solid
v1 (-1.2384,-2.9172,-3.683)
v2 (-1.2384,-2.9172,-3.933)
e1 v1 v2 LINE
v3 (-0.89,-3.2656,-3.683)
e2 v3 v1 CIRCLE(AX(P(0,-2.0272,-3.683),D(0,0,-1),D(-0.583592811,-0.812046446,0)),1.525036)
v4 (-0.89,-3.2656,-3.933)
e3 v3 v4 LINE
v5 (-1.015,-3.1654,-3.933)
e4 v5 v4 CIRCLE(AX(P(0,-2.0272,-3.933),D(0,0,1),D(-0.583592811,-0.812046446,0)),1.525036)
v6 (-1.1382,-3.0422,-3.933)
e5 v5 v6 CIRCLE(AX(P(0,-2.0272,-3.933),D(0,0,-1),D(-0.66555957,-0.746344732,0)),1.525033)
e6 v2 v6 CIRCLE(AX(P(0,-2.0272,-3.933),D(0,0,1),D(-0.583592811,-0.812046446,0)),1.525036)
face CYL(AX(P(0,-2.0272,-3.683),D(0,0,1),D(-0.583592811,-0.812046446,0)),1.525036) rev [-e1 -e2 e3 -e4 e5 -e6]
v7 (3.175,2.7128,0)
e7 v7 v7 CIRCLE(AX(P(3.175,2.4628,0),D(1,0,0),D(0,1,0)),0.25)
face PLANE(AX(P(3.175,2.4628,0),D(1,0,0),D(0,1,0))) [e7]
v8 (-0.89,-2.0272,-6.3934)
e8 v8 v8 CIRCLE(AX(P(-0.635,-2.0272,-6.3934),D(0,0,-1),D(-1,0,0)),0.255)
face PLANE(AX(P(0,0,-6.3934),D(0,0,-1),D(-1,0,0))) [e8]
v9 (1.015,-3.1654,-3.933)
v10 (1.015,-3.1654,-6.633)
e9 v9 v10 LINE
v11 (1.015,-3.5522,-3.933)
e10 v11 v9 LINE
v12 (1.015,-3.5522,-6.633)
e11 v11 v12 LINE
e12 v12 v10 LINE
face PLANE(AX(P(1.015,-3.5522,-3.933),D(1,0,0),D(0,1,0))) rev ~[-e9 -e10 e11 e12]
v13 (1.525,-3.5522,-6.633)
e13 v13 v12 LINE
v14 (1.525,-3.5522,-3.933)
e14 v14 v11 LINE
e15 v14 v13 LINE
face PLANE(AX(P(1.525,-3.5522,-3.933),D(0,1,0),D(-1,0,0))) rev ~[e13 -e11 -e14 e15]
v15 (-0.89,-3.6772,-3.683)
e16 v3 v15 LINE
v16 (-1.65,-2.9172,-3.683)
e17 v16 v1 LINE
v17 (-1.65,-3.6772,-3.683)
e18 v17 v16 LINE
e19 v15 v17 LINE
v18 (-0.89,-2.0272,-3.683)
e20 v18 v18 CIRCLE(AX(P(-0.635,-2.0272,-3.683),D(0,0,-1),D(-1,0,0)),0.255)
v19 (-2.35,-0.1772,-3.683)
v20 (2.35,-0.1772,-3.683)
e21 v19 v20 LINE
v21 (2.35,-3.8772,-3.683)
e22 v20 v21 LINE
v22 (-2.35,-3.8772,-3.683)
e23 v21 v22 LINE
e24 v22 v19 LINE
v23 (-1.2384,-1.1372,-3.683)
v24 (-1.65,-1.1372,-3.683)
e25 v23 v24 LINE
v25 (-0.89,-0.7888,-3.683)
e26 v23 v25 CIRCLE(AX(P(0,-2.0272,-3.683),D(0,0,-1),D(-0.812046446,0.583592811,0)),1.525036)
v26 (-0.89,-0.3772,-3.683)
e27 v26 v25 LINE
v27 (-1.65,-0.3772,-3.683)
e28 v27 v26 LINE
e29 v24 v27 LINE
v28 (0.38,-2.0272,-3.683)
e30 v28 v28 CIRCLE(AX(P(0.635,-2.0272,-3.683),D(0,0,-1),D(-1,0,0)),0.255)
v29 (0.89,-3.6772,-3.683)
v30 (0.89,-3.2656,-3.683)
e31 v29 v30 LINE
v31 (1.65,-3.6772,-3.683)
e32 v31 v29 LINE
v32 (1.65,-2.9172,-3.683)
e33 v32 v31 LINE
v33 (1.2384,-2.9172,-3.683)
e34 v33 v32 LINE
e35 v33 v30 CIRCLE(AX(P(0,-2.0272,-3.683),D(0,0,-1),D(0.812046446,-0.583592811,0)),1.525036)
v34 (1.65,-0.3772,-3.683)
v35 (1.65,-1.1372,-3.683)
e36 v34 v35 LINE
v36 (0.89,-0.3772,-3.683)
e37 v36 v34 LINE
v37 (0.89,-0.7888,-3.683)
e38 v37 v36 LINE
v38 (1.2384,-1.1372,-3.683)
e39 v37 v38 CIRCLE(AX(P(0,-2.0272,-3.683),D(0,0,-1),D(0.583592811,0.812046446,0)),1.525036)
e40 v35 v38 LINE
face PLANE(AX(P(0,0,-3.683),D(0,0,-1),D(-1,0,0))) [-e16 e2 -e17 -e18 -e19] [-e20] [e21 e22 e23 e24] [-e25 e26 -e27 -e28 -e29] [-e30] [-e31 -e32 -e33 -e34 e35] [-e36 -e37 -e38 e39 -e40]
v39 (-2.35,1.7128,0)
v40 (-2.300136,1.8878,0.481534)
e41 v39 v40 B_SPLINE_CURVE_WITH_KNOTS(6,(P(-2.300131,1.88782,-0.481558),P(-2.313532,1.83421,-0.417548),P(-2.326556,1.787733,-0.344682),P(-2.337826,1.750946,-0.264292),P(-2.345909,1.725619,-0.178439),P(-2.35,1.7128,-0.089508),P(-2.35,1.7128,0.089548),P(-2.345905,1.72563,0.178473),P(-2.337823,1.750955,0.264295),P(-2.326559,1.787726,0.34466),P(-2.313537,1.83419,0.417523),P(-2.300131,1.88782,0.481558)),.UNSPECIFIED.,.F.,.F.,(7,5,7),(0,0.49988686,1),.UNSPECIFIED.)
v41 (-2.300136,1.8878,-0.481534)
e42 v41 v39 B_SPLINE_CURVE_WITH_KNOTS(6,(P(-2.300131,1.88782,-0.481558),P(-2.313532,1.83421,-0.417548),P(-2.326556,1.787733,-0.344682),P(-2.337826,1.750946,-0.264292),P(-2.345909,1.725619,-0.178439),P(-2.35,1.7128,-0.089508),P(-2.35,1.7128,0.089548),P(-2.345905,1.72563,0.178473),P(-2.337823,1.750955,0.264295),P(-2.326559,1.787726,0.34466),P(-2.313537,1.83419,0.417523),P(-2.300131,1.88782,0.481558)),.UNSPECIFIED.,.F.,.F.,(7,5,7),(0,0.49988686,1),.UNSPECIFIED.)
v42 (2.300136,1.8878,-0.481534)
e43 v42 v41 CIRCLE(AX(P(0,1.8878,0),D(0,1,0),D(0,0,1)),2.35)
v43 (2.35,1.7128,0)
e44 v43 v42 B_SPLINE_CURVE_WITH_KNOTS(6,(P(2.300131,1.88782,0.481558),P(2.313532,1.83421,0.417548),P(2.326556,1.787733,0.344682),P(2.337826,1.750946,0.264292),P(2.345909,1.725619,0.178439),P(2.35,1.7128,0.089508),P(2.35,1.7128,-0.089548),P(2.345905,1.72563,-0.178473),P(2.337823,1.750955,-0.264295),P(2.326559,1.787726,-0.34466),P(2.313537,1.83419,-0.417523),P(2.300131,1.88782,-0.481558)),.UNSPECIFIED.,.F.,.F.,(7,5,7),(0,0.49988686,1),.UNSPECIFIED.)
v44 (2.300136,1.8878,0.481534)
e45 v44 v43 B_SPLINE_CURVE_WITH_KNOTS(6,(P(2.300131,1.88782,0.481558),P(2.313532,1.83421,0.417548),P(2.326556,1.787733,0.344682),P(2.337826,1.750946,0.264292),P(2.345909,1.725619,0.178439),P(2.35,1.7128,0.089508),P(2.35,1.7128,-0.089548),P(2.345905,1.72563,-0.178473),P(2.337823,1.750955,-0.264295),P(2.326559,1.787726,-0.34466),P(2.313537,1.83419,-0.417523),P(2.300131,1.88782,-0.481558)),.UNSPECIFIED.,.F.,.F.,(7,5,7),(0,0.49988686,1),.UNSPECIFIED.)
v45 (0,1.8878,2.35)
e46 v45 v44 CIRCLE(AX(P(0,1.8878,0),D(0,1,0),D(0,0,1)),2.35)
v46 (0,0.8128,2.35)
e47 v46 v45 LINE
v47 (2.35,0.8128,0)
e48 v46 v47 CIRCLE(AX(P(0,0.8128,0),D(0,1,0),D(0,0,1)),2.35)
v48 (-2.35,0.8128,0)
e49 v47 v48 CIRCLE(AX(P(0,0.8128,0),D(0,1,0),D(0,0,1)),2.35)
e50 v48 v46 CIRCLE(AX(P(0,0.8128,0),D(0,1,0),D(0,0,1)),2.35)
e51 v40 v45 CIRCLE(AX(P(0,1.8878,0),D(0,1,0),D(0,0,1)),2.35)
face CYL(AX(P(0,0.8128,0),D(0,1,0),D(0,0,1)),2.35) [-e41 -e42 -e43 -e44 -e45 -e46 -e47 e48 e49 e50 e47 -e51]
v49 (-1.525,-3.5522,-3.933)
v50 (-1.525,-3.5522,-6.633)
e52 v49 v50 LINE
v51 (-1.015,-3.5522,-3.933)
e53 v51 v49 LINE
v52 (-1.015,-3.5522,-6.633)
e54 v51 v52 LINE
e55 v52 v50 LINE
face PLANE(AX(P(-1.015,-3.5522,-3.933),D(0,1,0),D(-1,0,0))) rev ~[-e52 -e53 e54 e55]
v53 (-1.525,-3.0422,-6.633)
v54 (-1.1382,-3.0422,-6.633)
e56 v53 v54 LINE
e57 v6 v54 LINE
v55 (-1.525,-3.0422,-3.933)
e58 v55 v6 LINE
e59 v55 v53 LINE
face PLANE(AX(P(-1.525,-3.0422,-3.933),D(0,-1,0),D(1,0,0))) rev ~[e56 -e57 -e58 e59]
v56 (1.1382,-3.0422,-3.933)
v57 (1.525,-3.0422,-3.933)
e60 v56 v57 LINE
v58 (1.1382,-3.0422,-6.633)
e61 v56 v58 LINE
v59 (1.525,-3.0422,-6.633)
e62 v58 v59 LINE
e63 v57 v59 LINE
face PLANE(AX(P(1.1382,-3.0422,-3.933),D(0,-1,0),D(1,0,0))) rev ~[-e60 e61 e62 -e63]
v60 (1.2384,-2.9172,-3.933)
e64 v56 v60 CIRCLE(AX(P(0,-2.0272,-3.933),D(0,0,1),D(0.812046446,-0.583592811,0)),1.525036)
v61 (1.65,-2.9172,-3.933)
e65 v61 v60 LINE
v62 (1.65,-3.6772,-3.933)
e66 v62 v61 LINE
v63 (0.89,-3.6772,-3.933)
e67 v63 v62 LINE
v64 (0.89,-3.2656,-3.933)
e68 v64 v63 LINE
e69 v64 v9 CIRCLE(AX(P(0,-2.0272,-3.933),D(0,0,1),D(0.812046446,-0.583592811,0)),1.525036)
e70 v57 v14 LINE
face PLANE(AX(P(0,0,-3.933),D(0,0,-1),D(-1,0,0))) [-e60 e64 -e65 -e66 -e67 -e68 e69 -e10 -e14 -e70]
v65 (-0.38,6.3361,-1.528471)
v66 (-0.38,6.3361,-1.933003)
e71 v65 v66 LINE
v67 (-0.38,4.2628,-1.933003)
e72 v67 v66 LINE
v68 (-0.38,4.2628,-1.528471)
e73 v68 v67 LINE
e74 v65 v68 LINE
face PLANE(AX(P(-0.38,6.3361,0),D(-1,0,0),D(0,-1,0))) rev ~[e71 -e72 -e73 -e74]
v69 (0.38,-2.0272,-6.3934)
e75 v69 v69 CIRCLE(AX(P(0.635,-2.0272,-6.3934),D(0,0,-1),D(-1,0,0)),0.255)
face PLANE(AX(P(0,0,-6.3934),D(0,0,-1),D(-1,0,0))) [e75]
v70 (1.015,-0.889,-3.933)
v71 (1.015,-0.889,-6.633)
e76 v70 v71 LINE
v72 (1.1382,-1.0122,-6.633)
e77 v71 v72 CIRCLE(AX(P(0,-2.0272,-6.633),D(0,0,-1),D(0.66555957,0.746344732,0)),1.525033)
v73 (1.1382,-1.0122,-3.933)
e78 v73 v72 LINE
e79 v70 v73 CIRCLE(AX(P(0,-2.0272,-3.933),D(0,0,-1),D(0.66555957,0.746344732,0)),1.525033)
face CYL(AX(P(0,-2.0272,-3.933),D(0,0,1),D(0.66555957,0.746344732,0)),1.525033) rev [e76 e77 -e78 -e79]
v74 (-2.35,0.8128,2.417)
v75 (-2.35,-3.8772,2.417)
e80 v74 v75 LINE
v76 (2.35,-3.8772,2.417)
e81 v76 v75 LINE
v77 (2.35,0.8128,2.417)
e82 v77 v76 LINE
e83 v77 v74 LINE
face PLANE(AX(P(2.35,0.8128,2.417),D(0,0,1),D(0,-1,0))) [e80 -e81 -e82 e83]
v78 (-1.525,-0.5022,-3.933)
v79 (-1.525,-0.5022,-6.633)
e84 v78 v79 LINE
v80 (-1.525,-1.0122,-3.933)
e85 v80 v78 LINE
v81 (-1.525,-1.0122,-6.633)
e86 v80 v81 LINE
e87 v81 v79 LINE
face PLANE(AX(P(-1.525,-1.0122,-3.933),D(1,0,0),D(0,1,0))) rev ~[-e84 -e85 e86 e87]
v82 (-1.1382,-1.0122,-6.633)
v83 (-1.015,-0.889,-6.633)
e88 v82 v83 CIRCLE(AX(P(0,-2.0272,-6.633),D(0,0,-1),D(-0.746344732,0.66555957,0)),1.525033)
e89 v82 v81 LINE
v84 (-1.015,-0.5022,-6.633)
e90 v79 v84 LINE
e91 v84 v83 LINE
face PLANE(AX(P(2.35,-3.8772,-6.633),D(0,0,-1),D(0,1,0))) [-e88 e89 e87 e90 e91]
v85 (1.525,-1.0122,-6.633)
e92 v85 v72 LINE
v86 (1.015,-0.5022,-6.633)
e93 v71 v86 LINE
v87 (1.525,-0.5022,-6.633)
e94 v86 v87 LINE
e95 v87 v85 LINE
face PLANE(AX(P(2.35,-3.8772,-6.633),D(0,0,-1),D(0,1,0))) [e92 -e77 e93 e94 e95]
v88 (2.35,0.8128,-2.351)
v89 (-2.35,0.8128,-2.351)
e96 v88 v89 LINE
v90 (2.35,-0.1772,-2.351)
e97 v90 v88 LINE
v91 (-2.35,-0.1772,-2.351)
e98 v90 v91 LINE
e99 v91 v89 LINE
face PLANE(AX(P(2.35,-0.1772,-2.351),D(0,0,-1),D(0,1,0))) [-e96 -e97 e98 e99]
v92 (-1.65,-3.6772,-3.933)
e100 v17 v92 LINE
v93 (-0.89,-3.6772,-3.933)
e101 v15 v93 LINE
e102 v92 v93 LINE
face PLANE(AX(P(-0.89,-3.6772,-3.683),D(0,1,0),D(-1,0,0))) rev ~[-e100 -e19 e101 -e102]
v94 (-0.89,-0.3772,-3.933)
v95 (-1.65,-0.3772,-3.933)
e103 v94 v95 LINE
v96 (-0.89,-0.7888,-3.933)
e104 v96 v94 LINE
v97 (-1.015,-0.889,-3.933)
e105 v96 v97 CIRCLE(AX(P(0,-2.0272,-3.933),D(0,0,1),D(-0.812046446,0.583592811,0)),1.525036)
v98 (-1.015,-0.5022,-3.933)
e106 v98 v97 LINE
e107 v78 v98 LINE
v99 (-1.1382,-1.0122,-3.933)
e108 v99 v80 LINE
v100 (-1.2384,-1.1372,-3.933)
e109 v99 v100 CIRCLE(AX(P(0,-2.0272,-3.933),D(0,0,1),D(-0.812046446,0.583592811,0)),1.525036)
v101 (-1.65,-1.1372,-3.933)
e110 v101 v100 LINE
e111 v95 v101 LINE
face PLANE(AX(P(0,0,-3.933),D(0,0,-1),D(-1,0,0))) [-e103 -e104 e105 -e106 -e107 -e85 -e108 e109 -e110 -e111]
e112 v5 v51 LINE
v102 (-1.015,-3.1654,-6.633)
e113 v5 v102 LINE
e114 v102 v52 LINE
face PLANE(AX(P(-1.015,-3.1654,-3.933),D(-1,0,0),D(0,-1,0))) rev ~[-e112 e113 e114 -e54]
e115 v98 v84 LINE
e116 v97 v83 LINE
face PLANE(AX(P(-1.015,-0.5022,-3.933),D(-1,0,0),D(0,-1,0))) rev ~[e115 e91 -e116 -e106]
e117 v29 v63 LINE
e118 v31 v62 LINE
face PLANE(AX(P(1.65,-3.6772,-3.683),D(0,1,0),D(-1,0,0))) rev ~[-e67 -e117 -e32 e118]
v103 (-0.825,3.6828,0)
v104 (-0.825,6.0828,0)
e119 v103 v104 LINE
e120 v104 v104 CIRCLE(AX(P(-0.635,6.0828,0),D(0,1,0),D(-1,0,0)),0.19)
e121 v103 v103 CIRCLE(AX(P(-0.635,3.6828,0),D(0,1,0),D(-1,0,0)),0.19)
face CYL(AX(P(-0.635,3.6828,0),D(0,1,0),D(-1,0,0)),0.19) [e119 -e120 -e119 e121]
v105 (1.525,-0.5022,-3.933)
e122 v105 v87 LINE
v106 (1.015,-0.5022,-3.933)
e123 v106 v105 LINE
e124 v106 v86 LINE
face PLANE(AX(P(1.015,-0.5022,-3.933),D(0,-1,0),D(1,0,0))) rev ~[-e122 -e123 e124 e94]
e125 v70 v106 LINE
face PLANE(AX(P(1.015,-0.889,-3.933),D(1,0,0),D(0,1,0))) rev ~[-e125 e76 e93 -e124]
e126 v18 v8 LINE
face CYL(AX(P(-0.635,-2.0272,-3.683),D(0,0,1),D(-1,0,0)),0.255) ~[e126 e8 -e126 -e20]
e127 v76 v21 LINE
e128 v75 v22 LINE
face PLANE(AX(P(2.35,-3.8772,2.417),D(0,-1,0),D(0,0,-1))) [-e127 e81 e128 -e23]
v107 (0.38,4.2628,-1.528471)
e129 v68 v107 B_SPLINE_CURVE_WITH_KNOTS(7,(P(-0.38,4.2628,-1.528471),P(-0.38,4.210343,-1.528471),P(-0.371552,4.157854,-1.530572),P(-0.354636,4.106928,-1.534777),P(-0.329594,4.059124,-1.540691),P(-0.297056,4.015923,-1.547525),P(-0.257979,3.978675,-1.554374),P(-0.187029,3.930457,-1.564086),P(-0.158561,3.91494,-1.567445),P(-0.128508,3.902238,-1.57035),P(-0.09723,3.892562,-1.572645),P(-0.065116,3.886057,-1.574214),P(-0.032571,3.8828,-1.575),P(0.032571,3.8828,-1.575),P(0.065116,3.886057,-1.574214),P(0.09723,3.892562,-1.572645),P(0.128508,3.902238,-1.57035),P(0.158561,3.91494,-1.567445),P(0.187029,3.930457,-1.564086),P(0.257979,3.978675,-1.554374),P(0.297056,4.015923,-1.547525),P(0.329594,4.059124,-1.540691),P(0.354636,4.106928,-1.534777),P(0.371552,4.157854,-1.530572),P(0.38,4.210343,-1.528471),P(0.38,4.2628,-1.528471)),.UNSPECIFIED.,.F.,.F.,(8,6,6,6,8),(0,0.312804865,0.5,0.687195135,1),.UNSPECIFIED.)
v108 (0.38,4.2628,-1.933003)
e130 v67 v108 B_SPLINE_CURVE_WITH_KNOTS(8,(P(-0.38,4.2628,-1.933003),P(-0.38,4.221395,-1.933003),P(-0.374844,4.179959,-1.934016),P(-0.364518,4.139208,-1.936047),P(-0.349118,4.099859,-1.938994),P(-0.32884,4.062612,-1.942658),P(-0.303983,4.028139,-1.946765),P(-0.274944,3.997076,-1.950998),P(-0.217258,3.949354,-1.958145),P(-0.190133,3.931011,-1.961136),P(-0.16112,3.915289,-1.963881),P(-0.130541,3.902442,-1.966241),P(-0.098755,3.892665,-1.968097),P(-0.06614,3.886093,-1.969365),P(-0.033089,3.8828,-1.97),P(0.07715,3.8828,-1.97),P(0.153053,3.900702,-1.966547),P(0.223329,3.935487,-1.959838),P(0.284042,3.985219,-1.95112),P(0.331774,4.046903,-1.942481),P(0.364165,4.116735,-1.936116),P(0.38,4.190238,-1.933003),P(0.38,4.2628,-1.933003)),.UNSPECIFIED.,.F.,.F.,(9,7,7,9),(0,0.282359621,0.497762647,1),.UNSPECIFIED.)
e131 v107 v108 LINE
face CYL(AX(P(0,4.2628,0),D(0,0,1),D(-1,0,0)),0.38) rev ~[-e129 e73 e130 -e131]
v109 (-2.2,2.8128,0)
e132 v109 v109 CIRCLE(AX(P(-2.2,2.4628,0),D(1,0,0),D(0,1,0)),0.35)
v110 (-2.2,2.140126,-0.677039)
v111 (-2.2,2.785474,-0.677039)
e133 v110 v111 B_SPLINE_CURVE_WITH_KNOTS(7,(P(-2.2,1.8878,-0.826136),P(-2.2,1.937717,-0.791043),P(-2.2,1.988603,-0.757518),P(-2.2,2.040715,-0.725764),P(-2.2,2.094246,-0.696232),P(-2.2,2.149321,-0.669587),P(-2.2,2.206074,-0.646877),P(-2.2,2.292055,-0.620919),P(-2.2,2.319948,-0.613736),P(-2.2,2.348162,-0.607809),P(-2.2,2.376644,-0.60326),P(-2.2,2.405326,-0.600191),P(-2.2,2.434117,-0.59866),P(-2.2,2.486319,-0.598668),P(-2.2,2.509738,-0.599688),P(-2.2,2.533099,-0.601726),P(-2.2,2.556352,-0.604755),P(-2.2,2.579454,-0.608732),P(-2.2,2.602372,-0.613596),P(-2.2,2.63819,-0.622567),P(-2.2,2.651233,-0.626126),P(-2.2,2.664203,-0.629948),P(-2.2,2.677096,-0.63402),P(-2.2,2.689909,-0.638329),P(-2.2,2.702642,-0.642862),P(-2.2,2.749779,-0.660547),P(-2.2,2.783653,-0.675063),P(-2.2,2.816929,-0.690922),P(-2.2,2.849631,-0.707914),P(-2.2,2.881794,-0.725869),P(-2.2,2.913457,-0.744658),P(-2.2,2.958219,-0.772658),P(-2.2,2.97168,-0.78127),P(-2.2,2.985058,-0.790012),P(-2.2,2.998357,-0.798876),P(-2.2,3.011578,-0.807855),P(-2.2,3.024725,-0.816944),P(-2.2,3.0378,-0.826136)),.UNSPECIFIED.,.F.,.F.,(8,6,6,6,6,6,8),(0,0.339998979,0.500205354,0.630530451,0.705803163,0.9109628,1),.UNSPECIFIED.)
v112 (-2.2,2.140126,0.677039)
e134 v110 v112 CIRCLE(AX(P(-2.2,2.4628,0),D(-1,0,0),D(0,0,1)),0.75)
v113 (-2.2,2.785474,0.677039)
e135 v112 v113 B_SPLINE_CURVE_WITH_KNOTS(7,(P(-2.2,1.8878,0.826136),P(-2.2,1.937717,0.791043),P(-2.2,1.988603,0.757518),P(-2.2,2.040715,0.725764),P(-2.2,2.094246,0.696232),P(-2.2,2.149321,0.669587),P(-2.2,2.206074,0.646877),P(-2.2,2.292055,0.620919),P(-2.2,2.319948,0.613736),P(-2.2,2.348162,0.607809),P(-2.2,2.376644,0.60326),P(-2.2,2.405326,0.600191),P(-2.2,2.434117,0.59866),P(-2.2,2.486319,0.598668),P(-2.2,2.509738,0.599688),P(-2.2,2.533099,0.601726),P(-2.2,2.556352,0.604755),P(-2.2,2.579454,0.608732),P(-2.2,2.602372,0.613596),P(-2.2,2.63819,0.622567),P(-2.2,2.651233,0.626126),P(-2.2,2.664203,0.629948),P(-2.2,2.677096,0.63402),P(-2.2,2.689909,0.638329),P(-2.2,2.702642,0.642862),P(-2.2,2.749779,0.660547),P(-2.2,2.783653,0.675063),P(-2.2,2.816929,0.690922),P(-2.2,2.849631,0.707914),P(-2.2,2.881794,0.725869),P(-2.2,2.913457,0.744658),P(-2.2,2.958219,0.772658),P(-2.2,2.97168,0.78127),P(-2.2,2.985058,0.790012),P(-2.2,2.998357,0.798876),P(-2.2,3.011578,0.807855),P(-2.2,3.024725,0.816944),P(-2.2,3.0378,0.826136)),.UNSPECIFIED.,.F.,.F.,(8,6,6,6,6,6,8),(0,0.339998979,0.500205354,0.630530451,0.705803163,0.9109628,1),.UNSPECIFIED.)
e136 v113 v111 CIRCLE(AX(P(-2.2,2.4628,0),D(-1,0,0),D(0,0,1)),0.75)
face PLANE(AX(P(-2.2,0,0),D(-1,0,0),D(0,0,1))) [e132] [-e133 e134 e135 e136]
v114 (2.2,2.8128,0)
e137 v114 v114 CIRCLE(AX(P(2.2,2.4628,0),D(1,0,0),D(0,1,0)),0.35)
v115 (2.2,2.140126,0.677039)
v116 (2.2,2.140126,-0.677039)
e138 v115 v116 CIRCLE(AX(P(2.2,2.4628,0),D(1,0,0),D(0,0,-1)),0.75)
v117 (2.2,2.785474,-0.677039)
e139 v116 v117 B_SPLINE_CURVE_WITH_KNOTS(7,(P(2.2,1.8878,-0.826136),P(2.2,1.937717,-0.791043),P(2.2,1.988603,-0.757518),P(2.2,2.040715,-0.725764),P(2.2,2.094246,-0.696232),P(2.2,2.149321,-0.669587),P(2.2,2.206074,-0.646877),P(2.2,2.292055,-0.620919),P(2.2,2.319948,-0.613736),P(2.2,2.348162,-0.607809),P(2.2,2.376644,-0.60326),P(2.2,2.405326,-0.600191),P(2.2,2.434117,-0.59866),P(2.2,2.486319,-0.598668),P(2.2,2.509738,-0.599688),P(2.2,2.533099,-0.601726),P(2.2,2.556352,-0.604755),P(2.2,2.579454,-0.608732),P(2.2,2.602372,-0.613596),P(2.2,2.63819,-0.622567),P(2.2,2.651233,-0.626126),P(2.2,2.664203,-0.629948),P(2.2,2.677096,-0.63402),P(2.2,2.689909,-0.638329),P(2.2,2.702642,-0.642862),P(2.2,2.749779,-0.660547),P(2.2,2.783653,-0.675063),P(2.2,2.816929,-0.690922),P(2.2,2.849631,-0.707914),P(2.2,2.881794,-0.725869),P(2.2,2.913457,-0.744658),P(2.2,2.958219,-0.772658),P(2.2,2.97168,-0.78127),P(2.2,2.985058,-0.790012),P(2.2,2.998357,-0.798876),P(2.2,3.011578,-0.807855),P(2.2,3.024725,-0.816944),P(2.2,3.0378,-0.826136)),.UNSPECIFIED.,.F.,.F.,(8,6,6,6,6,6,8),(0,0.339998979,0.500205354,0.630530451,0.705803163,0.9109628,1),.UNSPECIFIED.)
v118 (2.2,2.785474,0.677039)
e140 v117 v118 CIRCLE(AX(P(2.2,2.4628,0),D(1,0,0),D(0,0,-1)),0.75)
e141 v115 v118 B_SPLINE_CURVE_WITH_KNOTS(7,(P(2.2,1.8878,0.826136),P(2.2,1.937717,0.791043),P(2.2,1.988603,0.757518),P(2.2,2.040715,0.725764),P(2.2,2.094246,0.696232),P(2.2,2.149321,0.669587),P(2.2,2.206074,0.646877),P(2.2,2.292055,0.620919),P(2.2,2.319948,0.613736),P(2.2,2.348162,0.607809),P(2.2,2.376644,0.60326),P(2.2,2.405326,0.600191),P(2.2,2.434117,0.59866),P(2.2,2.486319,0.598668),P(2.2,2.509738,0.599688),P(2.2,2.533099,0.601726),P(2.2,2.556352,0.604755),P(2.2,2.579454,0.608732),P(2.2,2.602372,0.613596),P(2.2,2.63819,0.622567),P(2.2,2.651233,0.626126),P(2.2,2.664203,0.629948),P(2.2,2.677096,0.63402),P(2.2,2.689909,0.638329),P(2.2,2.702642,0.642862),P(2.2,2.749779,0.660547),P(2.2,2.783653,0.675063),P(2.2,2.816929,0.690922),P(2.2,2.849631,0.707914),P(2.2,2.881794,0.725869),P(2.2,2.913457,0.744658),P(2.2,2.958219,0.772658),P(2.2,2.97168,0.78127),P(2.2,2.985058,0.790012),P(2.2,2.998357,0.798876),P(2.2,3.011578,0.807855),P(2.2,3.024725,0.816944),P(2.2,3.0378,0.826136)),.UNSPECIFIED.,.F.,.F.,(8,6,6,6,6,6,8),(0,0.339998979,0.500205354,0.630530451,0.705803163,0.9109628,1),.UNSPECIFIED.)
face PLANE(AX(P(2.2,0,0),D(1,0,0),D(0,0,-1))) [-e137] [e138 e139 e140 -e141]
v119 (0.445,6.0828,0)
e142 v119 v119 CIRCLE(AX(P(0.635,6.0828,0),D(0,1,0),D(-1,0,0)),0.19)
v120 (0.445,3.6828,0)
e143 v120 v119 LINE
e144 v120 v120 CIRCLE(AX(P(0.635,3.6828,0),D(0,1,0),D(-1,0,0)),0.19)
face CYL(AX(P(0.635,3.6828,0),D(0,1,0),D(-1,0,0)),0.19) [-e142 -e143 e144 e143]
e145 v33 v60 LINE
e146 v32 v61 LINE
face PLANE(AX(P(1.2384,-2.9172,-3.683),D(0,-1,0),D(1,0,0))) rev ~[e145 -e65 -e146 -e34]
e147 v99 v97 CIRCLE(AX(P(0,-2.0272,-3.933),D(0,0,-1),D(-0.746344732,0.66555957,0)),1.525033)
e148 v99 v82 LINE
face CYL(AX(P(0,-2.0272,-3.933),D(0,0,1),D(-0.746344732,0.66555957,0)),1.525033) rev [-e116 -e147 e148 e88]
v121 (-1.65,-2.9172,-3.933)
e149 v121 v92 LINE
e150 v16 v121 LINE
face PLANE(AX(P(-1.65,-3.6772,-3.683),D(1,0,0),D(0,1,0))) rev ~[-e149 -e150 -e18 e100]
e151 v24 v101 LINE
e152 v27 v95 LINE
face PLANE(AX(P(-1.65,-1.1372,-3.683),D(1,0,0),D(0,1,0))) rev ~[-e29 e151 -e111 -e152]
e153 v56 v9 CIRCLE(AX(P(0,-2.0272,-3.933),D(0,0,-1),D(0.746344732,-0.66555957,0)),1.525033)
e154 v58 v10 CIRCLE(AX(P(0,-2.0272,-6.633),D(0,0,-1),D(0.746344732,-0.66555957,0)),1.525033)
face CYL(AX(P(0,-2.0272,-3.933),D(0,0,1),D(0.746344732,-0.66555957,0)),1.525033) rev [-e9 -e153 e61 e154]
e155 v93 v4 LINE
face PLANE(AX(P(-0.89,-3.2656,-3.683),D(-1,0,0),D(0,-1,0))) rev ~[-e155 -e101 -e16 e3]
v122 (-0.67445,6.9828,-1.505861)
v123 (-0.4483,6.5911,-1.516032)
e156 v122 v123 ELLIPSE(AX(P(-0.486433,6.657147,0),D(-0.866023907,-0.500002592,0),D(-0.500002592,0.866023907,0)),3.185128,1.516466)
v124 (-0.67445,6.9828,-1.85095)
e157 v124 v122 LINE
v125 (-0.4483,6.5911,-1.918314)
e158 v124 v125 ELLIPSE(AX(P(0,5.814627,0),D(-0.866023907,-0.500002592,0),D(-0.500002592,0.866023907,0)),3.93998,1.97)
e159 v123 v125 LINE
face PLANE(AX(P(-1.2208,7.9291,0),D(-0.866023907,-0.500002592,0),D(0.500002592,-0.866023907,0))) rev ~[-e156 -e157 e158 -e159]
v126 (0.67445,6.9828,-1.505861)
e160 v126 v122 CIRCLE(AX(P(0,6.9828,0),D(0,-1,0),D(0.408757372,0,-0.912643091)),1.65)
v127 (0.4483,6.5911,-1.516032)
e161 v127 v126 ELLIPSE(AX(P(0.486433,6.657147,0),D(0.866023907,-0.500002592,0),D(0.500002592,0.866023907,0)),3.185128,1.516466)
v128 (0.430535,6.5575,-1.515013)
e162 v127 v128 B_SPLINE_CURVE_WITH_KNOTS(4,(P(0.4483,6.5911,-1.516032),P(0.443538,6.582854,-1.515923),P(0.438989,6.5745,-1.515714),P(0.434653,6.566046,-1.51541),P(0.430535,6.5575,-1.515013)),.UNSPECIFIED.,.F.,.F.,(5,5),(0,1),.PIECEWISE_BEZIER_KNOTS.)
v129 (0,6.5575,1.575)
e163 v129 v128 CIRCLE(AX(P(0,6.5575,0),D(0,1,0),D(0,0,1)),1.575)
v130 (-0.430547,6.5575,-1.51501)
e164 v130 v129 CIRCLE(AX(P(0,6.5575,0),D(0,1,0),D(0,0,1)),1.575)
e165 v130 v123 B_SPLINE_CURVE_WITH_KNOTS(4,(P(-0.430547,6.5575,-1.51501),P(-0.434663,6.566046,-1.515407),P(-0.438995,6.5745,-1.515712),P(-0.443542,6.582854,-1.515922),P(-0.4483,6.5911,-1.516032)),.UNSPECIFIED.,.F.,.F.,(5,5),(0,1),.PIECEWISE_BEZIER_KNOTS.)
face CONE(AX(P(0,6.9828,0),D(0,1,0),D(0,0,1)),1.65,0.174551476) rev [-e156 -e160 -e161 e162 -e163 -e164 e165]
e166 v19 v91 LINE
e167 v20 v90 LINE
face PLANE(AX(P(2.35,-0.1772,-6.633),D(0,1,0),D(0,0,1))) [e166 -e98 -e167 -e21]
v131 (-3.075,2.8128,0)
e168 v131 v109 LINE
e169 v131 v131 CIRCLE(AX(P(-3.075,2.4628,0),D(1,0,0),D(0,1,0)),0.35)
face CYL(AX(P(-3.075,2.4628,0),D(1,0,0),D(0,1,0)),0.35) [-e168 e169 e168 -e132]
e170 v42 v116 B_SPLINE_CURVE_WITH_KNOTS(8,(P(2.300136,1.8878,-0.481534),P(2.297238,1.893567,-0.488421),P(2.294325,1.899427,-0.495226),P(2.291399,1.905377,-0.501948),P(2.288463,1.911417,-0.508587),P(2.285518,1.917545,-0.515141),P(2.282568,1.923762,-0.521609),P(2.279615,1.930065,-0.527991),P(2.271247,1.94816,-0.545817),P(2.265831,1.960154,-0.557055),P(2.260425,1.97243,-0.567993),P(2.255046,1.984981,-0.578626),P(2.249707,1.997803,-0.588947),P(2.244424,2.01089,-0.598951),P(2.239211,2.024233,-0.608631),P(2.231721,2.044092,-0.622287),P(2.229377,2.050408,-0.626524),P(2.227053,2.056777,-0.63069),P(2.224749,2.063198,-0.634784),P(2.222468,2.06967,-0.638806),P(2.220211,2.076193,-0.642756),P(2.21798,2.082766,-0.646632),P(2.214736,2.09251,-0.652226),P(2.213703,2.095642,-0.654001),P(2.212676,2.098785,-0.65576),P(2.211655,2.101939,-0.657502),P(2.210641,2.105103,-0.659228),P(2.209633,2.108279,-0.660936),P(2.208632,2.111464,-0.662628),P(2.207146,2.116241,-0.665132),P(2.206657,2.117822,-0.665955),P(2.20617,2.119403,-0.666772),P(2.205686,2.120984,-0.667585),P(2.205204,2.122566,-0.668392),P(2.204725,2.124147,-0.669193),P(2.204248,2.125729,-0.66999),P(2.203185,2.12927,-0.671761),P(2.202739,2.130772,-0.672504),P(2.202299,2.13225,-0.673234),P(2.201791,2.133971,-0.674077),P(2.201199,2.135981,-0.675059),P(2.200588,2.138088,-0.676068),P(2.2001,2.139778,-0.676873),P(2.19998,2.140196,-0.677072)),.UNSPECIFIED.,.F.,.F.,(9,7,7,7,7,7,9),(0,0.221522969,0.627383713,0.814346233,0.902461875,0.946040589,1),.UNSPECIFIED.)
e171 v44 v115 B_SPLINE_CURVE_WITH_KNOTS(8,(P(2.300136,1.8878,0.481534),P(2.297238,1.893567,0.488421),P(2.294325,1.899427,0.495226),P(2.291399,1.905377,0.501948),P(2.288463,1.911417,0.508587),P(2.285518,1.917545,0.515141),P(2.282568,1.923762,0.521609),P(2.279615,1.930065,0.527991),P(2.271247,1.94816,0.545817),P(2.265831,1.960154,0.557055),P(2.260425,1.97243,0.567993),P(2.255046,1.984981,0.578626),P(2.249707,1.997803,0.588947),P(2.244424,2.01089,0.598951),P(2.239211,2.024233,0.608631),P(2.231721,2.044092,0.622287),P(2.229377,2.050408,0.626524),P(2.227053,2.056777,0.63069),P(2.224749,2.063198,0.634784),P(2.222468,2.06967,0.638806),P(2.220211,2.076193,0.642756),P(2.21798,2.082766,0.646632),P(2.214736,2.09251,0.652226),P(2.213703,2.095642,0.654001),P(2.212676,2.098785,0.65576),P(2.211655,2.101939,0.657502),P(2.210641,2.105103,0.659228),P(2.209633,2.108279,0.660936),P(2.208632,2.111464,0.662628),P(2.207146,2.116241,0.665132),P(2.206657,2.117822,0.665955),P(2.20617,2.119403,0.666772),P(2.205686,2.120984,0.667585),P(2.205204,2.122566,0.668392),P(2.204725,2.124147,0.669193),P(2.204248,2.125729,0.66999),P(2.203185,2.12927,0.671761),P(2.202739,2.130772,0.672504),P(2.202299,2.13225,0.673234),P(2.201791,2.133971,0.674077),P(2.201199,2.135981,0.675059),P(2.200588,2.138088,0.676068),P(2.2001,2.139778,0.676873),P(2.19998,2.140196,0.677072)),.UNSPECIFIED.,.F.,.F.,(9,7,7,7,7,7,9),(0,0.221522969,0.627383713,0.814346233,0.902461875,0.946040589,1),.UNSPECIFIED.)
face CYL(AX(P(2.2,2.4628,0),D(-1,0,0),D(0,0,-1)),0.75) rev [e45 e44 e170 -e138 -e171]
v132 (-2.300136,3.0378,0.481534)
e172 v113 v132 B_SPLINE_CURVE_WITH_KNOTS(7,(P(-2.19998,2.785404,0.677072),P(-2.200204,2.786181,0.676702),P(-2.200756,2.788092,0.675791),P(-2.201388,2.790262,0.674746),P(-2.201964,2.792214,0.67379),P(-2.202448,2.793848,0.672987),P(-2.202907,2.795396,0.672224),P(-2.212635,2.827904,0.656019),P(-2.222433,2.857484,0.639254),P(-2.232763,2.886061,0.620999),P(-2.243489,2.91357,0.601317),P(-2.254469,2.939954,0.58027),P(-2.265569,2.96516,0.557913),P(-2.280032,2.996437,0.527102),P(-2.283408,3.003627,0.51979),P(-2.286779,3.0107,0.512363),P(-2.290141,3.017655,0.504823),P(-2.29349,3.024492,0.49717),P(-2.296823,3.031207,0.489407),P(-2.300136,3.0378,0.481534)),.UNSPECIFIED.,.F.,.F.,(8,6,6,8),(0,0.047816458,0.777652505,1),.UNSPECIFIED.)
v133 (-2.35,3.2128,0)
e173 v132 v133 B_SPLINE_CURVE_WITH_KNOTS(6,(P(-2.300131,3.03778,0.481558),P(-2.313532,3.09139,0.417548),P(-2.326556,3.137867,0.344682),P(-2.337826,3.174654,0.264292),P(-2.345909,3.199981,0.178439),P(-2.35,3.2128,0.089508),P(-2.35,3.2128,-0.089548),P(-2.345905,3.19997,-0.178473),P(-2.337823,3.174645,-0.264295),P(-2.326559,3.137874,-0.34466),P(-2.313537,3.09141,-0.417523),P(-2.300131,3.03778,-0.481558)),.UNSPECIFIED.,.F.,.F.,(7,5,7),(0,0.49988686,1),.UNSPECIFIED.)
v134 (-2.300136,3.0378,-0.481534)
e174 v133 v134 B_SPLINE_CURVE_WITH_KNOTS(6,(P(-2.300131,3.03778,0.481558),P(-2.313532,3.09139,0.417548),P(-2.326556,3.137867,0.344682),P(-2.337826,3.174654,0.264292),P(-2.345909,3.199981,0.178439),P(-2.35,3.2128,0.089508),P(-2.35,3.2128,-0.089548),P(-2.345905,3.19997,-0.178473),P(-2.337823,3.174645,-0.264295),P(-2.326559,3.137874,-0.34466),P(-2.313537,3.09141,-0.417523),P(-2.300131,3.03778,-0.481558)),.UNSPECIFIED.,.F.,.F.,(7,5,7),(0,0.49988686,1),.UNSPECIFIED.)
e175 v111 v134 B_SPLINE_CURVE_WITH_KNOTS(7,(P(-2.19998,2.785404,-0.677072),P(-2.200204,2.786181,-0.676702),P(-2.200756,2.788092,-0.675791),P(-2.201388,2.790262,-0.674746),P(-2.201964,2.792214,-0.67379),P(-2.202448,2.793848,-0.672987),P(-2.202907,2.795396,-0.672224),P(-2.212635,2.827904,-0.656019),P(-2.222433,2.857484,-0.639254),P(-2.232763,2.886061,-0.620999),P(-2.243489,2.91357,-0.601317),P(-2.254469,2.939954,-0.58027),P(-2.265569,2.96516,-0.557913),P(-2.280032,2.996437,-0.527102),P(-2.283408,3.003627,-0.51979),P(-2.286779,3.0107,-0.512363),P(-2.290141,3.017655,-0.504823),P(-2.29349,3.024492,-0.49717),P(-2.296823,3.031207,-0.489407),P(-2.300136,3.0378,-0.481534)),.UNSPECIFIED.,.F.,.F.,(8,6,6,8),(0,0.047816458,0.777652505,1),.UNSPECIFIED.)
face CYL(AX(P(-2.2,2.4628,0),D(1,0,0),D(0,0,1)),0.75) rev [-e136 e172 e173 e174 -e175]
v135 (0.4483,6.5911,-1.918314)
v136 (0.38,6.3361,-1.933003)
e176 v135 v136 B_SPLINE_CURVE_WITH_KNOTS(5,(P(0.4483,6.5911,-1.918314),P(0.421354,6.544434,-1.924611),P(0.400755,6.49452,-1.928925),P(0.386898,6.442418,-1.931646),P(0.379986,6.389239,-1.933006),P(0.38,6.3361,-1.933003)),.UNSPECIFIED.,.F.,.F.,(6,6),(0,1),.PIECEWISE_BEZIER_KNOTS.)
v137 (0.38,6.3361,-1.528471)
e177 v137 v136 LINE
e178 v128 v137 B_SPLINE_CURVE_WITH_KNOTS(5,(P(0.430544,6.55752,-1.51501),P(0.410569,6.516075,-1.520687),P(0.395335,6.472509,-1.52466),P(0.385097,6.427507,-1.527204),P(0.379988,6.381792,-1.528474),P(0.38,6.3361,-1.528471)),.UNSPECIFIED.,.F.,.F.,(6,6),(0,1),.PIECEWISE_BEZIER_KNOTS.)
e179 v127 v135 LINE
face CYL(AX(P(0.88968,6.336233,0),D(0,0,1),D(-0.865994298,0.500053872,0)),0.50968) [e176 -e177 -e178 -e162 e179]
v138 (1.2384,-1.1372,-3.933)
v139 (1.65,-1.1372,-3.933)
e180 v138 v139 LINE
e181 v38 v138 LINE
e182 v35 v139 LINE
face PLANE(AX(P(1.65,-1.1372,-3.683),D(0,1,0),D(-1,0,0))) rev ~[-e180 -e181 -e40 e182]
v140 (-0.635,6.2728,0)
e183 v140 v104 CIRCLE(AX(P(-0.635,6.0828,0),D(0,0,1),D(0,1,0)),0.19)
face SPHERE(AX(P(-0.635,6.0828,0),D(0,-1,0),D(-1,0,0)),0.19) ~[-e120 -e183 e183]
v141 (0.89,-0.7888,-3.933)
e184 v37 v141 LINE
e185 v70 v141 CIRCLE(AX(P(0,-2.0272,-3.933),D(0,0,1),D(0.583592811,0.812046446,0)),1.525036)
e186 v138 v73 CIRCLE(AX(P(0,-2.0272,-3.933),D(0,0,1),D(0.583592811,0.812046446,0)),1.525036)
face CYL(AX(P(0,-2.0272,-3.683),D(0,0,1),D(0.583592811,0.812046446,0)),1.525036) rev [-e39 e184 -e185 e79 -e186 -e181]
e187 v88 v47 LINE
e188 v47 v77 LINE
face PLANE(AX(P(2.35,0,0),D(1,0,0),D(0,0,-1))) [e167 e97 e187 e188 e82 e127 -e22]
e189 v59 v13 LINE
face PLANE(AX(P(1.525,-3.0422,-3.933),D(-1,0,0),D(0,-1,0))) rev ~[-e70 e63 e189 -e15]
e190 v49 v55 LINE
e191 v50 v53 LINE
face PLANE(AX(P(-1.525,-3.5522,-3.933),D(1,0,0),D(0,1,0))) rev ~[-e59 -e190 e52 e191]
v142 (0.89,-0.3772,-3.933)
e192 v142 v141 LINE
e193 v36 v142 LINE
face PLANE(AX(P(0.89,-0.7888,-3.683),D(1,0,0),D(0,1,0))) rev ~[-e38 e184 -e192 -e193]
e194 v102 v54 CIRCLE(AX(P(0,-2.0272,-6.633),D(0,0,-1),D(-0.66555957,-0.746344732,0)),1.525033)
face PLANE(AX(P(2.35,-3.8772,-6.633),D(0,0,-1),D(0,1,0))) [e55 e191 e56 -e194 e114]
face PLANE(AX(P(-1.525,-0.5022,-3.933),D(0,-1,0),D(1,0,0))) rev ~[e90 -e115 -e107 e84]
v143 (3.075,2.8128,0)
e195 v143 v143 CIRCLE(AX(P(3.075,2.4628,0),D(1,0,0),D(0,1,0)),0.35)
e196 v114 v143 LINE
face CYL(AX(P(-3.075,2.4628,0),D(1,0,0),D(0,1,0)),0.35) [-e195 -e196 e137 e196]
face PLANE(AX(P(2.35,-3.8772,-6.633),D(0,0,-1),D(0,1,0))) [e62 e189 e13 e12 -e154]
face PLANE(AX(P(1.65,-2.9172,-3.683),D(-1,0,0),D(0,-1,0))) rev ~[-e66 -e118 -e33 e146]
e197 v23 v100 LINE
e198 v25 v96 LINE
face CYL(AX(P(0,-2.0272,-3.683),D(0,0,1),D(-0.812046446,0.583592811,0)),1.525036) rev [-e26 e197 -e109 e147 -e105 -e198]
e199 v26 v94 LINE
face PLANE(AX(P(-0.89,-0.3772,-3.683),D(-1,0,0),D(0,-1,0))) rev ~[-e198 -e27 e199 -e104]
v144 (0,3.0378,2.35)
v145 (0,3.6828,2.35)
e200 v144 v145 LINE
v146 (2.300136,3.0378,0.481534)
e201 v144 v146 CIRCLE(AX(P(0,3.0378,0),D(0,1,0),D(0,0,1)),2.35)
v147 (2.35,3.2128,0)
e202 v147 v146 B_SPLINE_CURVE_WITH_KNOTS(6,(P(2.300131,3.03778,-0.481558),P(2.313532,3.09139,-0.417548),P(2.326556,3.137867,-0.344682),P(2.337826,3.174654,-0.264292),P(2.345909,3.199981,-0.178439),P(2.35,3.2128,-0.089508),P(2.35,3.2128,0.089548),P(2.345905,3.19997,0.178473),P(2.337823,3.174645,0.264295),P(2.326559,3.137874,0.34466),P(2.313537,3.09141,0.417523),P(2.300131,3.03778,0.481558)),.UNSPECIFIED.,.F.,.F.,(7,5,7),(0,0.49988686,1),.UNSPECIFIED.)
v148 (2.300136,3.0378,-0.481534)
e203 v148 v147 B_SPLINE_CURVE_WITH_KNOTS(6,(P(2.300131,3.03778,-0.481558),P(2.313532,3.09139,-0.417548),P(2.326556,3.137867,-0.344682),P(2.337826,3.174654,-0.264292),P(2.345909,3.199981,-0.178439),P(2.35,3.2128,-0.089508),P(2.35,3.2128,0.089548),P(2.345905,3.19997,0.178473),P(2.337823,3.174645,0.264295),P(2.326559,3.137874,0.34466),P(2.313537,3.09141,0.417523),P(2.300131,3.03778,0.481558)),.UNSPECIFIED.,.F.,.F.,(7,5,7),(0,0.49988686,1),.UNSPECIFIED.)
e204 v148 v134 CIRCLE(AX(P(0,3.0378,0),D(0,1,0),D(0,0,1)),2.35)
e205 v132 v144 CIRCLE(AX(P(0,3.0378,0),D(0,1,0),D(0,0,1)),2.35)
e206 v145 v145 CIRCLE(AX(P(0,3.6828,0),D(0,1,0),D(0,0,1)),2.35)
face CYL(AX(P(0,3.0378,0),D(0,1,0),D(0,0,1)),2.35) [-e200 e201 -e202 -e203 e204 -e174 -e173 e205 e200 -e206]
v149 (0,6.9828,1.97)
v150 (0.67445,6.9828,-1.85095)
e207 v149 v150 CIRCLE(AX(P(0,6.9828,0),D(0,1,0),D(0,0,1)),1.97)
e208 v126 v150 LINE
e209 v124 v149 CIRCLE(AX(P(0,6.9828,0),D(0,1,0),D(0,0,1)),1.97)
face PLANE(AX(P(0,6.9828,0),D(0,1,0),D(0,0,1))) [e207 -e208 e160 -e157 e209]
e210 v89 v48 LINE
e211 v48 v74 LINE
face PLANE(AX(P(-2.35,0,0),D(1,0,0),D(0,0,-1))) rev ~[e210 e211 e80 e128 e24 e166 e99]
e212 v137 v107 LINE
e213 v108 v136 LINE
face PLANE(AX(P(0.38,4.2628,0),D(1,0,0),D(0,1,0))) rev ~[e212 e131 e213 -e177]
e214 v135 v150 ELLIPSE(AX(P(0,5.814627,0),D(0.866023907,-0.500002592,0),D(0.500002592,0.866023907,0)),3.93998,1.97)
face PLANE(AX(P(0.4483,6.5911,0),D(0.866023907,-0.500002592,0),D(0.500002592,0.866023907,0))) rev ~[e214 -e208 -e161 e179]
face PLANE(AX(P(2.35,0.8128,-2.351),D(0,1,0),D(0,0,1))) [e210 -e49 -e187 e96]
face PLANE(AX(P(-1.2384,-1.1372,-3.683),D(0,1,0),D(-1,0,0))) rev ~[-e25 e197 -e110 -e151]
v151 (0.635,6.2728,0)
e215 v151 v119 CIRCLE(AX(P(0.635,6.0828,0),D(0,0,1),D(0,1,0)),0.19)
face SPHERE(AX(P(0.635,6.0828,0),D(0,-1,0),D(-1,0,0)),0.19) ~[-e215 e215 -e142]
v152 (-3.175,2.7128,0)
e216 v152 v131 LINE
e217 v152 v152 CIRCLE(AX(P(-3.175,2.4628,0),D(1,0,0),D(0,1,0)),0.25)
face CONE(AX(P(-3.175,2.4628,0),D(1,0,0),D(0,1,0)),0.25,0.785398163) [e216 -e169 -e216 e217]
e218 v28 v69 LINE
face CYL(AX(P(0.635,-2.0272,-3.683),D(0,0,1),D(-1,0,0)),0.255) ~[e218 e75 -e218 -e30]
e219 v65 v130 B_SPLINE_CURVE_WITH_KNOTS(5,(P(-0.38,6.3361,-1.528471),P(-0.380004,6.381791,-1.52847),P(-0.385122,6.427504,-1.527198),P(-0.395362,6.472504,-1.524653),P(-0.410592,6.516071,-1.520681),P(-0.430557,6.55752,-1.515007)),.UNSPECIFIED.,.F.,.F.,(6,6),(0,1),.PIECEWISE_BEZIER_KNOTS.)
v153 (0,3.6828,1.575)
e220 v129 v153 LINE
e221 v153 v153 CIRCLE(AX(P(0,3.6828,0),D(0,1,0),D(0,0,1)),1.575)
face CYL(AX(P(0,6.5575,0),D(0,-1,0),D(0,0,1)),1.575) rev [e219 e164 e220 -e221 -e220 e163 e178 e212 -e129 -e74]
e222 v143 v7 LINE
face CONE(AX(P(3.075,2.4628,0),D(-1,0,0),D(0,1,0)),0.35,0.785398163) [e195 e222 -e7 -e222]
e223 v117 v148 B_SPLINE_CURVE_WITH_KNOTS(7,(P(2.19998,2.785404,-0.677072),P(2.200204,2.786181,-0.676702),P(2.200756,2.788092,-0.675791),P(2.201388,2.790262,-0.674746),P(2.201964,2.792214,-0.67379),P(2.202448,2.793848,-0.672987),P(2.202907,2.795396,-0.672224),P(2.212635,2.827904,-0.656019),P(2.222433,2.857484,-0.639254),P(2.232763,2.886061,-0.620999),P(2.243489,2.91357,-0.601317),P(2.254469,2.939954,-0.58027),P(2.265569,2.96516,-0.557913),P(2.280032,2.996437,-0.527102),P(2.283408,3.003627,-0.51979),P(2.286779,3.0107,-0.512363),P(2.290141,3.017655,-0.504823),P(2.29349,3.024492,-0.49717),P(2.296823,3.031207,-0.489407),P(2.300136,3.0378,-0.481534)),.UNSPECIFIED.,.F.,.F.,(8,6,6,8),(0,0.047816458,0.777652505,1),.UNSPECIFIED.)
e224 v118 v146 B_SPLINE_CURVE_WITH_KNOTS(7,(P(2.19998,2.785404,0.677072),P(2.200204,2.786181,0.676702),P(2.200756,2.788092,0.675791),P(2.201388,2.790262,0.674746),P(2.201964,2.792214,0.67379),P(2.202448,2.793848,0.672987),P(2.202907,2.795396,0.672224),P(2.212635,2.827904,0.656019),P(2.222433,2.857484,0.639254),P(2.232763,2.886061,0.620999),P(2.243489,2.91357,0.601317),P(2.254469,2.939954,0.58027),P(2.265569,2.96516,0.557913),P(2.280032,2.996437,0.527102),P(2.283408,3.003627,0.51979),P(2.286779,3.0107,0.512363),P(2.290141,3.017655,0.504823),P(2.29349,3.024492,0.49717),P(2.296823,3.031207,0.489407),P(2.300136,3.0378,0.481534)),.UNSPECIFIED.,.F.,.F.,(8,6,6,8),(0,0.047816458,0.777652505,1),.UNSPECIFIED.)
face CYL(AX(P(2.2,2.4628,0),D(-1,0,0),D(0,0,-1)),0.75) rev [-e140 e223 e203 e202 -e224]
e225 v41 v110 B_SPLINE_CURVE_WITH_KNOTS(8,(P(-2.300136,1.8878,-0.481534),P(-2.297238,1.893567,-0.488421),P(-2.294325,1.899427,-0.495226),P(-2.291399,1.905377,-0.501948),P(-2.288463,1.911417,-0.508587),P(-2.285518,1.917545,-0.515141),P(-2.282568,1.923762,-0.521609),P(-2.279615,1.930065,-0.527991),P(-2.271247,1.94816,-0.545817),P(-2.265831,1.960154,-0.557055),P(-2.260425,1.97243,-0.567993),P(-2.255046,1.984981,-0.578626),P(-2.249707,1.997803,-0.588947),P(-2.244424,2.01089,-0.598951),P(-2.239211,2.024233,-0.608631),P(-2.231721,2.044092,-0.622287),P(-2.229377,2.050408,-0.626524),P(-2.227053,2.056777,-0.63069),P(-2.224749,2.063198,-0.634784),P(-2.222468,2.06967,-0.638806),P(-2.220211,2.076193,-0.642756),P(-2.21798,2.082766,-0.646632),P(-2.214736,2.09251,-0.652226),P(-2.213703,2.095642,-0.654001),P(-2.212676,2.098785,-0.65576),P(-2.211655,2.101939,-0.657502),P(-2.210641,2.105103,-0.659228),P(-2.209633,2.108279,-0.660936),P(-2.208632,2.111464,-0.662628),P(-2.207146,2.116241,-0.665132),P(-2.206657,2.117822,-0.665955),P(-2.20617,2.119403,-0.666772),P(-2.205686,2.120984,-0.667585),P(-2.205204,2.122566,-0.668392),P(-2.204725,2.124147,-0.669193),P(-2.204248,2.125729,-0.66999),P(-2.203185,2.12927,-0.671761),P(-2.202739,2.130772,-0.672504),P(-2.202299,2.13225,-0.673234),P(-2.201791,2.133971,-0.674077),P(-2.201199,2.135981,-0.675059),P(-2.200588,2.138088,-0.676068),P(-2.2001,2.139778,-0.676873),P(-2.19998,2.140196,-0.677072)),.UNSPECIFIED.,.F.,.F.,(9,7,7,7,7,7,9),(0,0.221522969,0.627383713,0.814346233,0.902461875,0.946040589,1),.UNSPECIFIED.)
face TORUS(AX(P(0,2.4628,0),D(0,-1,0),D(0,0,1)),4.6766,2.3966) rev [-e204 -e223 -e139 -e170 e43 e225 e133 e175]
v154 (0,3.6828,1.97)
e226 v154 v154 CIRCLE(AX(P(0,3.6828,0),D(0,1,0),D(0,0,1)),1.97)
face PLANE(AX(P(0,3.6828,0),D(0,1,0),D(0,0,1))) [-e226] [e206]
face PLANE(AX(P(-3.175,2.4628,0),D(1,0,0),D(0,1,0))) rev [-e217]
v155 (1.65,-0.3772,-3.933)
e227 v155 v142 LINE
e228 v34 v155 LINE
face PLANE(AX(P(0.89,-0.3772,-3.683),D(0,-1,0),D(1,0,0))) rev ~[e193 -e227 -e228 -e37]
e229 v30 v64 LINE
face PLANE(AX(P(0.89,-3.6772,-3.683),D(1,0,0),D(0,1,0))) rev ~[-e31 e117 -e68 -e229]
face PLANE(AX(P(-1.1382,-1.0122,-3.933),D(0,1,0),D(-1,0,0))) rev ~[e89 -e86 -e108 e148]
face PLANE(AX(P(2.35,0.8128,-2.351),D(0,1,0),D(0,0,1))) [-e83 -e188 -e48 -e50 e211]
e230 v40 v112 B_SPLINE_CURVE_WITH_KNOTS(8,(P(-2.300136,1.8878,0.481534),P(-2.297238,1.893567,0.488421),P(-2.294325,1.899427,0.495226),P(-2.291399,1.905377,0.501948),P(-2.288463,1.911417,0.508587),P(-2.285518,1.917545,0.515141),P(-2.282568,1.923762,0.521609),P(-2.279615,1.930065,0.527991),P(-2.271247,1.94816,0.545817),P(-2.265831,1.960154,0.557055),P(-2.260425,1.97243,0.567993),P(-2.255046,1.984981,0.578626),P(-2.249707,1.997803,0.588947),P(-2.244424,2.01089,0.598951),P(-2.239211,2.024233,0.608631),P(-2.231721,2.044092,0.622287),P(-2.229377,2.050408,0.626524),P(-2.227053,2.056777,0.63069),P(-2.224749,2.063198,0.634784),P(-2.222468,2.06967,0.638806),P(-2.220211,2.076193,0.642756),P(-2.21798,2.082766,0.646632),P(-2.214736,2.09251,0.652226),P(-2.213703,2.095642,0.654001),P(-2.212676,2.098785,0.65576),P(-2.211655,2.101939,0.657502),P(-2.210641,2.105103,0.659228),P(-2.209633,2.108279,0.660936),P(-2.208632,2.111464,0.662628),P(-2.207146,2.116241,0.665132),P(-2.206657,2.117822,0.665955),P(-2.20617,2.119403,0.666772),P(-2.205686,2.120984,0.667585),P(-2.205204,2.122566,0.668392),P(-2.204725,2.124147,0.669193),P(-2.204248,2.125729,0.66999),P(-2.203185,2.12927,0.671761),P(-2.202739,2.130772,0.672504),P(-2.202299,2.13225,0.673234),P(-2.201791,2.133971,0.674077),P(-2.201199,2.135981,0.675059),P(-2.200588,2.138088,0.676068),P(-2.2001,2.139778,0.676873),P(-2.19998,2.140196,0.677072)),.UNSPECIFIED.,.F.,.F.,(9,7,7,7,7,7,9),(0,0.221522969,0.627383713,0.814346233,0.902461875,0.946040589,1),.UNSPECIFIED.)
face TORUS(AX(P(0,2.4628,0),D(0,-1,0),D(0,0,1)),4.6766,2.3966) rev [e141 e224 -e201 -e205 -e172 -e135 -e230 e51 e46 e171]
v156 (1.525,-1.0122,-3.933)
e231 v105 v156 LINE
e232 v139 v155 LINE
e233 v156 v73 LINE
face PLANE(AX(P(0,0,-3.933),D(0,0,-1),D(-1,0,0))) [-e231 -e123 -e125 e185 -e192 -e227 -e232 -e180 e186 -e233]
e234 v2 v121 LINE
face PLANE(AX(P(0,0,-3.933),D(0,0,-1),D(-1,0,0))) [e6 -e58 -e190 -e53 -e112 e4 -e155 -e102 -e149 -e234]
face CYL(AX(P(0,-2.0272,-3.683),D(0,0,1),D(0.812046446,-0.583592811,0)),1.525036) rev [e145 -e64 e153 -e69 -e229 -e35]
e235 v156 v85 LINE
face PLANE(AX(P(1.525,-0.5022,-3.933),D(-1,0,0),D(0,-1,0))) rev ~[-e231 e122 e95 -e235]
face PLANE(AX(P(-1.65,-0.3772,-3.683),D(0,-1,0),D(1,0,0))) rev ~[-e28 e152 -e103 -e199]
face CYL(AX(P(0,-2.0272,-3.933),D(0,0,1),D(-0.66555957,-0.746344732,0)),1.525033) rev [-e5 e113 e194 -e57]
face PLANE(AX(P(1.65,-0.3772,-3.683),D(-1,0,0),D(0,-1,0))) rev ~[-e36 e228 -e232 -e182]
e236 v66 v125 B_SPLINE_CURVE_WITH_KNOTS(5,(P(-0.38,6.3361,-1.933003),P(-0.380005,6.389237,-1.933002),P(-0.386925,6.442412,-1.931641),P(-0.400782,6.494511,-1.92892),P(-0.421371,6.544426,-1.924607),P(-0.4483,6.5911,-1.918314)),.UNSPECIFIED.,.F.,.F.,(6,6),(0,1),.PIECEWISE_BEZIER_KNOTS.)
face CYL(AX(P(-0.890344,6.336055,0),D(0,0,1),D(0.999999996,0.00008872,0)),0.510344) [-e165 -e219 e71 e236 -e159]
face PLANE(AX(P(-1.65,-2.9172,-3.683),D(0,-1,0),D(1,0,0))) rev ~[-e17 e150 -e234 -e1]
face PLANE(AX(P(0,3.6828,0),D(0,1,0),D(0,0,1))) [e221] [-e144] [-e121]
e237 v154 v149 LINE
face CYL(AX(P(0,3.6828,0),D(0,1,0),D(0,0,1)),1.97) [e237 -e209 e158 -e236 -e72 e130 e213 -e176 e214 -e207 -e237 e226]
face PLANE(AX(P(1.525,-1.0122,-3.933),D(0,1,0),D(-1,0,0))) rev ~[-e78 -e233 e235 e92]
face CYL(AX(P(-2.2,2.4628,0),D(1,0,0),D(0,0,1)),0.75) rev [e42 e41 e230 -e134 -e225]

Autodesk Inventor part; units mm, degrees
sketch "Sketch0" plane through (2.35, 0, 0) normal (1, 0, 0) x (0, 0, -1)
  line L0 (-2.417, -3.8772) -> (6.633, -3.8772)
  line L1 (6.633, -3.8772) -> (6.633, -0.1772)
  line L2 (6.633, -0.1772) -> (2.351, -0.1772)
  line L3 (2.351, -0.1772) -> (2.351, 0.8128)
  line L4 (2.351, 0.8128) -> (-2.417, 0.8128)
  line L5 (-2.417, 0.8128) -> (-2.417, -3.8772)
extrude "Extrusion1" add sketch "Sketch0" against normal blind 4.7
sketch "Sketch2" plane through (0, 0, -3.683) normal (0, 0, -1) x (-1, 0, 0)
  line L0 (-2.35, -3.8772) -> (2.35, -3.8772)
  line L1 (2.35, -3.8772) -> (2.35, -0.1772)
  line L2 (2.35, -0.1772) -> (-2.35, -0.1772)
  line L3 (-2.35, -0.1772) -> (-2.35, -3.8772)
  line L4 (0.89, -0.3772) -> (0.89, -0.7888)
  arc A0 (1.2384, -1.1372) -> (0.89, -0.7888) centre (0, -2.0272) ccw
  line L5 (1.2384, -1.1372) -> (1.65, -1.1372)
  line L6 (1.65, -1.1372) -> (1.65, -0.3772)
  line L7 (1.65, -0.3772) -> (0.89, -0.3772)
  line L8 (0.89, -3.6772) -> (1.65, -3.6772)
  line L9 (1.65, -3.6772) -> (1.65, -2.9172)
  line L10 (1.65, -2.9172) -> (1.2384, -2.9172)
  arc A1 (0.89, -3.2656) -> (1.2384, -2.9172) centre (0, -2.0272) ccw
  line L11 (0.89, -3.2656) -> (0.89, -3.6772)
  line L12 (-1.65, -1.1372) -> (-1.2384, -1.1372)
  arc A2 (-0.89, -0.7888) -> (-1.2384, -1.1372) centre (0, -2.0272) ccw
  line L13 (-0.89, -0.7888) -> (-0.89, -0.3772)
  line L14 (-0.89, -0.3772) -> (-1.65, -0.3772)
  line L15 (-1.65, -0.3772) -> (-1.65, -1.1372)
  line L16 (-1.65, -3.6772) -> (-0.89, -3.6772)
  line L17 (-0.89, -3.6772) -> (-0.89, -3.2656)
  arc A3 (-1.2384, -2.9172) -> (-0.89, -3.2656) centre (0, -2.0272) ccw
  line L18 (-1.2384, -2.9172) -> (-1.65, -2.9172)
  line L19 (-1.65, -2.9172) -> (-1.65, -3.6772)
sketch "Sketch1" plane through (0, 0, -3.933) normal (0, 0, -1) x (-1, 0, 0)
  line L0 (-3.3075, -4.3481) -> (3.6398, -4.3481)
  line L1 (3.6398, -4.3481) -> (3.6398, 0.0953)
  line L2 (3.6398, 0.0953) -> (-3.3075, 0.0953)
  line L3 (-3.3075, 0.0953) -> (-3.3075, -4.3481)
  line L4 (1.015, -0.5022) -> (1.015, -0.889)
  arc A0 (1.1382, -1.0122) -> (1.015, -0.889) centre (0, -2.0272) ccw
  line L5 (1.1382, -1.0122) -> (1.525, -1.0122)
  line L6 (1.525, -1.0122) -> (1.525, -0.5022)
  line L7 (1.525, -0.5022) -> (1.015, -0.5022)
  line L8 (1.015, -3.5522) -> (1.525, -3.5522)
  line L9 (1.525, -3.5522) -> (1.525, -3.0422)
  line L10 (1.525, -3.0422) -> (1.1382, -3.0422)
  arc A1 (1.015, -3.1654) -> (1.1382, -3.0422) centre (0, -2.0272) ccw
  line L11 (1.015, -3.1654) -> (1.015, -3.5522)
  line L12 (-1.525, -0.5022) -> (-1.525, -1.0122)
  line L13 (-1.525, -1.0122) -> (-1.1382, -1.0122)
  arc A2 (-1.015, -0.889) -> (-1.1382, -1.0122) centre (0, -2.0272) ccw
  line L14 (-1.015, -0.889) -> (-1.015, -0.5022)
  line L15 (-1.015, -0.5022) -> (-1.525, -0.5022)
  line L16 (-1.525, -3.5522) -> (-1.015, -3.5522)
  line L17 (-1.015, -3.5522) -> (-1.015, -3.1654)
  arc A3 (-1.1382, -3.0422) -> (-1.015, -3.1654) centre (0, -2.0272) ccw
  line L18 (-1.1382, -3.0422) -> (-1.525, -3.0422)
  line L19 (-1.525, -3.0422) -> (-1.525, -3.5522)
extrude "Extrusion2" cut sketch "Sketch1" along normal blind 2.7
sketch "Sketch3" plane through (0, 0, -3.683) normal (0, 0, -1) x (-1, 0, 0)
  circle A0 centre (0.635, -2.0272) radius 0.255
extrude "Extrusion3" cut sketch "Sketch2" along normal blind 2.95
sketch "Sketch4" plane through (0, 0, -3.683) normal (0, 0, -1) x (-1, 0, 0)
  circle A0 centre (-0.635, -2.0272) radius 0.255
extrude "Extrusion4" add sketch "Sketch3" along normal blind 2.7104
sketch "Sketch5" plane through (0, 0, 0) normal (1, 0, 0) x (0, 0, -1)
  line L0 (0, 3.6828) -> (0, 0.8128)
  line L1 (0, 0.8128) -> (-2.35, 0.8128)
  line L2 (-2.35, 0.8128) -> (-2.35, 1.8878)
  arc A0 (-2.35, 1.8878) -> (-2.35, 3.0378) centre (-4.6766, 2.4628) ccw
  line L3 (-2.35, 3.0378) -> (-2.35, 3.6828)
  line L4 (-2.35, 3.6828) -> (-1.97, 3.6828)
  line L5 (-1.97, 3.6828) -> (-1.97, 6.9828)
  line L6 (-1.97, 6.9828) -> (-1.65, 6.9828)
  line L7 (-1.65, 6.9828) -> (-1.575, 6.5575)
  line L8 (-1.575, 6.5575) -> (-1.575, 3.6828)
  line L9 (-1.575, 3.6828) -> (0, 3.6828)
  line L10 (0, 3.6828) -> (0, 0.8128)
extrude "Extrusion5" add sketch "Sketch4" along normal blind 2.7104
sketch "Sketch6" plane through (0, 0, 0) normal (0, 0, 1) x (1, 0, 0)
  line L0 (-1.2208, 7.9291) -> (-0.4483, 6.5911)
  arc A0 (-0.38, 6.3361) -> (-0.4483, 6.5911) centre (-0.89, 6.3361) ccw
  line L1 (-0.38, 6.3361) -> (-0.38, 4.2628)
  arc A1 (-0.38, 4.2628) -> (0.38, 4.2628) centre (0, 4.2628) ccw
  line L2 (0.38, 4.2628) -> (0.38, 6.3361)
  arc A2 (0.4483, 6.5911) -> (0.38, 6.3361) centre (0.89, 6.3361) ccw
  line L3 (0.4483, 6.5911) -> (1.2208, 7.9291)
  line L4 (1.2208, 7.9291) -> (-1.2208, 7.9291)
revolve "Revolution1" add sketch "Sketch5" angle 360 about axis through (0, 3.6828, 0) along (0, 1, 0)
sketch "Sketch7" plane through (2.2, 0, 0) normal (1, 0, 0) x (0, 0, -1)
  circle A0 centre (0, 2.4628) radius 0.75
extrude "Extrusion6" cut sketch "Sketch6" against normal blind 3
sketch "Sketch8" plane through (-2.2, 0, 0) normal (-1, 0, 0) x (0, 0, 1)
  circle A0 centre (0, 2.4628) radius 0.75
extrude "Extrusion7" cut sketch "Sketch7" along normal blind 0.15
sketch "Sketch9" plane through (0, 0, 0) normal (0, 0, 1) x (1, 0, 0)
  line L0 (3.175, 2.4628) -> (-3.175, 2.4628)
  line L1 (-3.175, 2.4628) -> (-3.175, 2.7128)
  line L2 (-3.175, 2.7128) -> (-3.075, 2.8128)
  line L3 (-3.075, 2.8128) -> (3.075, 2.8128)
  line L4 (3.075, 2.8128) -> (3.175, 2.7128)
  line L5 (3.175, 2.7128) -> (3.175, 2.4628)
  line L6 (3.175, 2.4628) -> (-3.175, 2.4628)
extrude "Extrusion8" cut sketch "Sketch8" along normal blind 0.15
sketch "Sketch10" plane through (0, 0, 0) normal (0, 0, 1) x (1, 0, 0)
  line L0 (0.635, 6.2728) -> (0.635, 3.6828)
  line L1 (0.635, 3.6828) -> (0.445, 3.6828)
  line L2 (0.445, 3.6828) -> (0.445, 6.0828)
  arc A0 (0.635, 6.2728) -> (0.445, 6.0828) centre (0.635, 6.0828) ccw
  line L3 (0.635, 6.2728) -> (0.635, 3.6828)
revolve "Revolution2" add sketch "Sketch9" angle 360 about axis through (3.175, 2.4628, 0) along (1, 0, 0)
sketch "Sketch11" plane through (0, 0, 0) normal (0, 0, 1) x (1, 0, 0)
  line L0 (-0.635, 6.2728) -> (-0.635, 3.6828)
  line L1 (-0.635, 3.6828) -> (-0.825, 3.6828)
  line L2 (-0.825, 3.6828) -> (-0.825, 6.0828)
  arc A0 (-0.635, 6.2728) -> (-0.825, 6.0828) centre (-0.635, 6.0828) ccw
  line L3 (-0.635, 6.2728) -> (-0.635, 3.6828)
revolve "Revolution3" add sketch "Sketch10" angle 360 about axis through (0.635, 6.2728, 0) along (0, 1, 0)
revolve "Revolution4" add sketch "Sketch11" angle 360 about axis through (-0.635, 6.2728, 0) along (0, 1, 0)
ref_plane "fh1_XY" through (0, 6.9828, 0) normal (0, 0, 1) x (1, 0, 0)
ref_plane "fh1_YZ" through (0, 6.9828, 0) normal (1, 0, 0) x (0, 1, 0)
ref_plane "fh1_ZX" through (0, 6.9828, 0) normal (0, 1, 0) x (0, 0, 1)
properties part number "CJT-T-P-HH-RA-TH1"
